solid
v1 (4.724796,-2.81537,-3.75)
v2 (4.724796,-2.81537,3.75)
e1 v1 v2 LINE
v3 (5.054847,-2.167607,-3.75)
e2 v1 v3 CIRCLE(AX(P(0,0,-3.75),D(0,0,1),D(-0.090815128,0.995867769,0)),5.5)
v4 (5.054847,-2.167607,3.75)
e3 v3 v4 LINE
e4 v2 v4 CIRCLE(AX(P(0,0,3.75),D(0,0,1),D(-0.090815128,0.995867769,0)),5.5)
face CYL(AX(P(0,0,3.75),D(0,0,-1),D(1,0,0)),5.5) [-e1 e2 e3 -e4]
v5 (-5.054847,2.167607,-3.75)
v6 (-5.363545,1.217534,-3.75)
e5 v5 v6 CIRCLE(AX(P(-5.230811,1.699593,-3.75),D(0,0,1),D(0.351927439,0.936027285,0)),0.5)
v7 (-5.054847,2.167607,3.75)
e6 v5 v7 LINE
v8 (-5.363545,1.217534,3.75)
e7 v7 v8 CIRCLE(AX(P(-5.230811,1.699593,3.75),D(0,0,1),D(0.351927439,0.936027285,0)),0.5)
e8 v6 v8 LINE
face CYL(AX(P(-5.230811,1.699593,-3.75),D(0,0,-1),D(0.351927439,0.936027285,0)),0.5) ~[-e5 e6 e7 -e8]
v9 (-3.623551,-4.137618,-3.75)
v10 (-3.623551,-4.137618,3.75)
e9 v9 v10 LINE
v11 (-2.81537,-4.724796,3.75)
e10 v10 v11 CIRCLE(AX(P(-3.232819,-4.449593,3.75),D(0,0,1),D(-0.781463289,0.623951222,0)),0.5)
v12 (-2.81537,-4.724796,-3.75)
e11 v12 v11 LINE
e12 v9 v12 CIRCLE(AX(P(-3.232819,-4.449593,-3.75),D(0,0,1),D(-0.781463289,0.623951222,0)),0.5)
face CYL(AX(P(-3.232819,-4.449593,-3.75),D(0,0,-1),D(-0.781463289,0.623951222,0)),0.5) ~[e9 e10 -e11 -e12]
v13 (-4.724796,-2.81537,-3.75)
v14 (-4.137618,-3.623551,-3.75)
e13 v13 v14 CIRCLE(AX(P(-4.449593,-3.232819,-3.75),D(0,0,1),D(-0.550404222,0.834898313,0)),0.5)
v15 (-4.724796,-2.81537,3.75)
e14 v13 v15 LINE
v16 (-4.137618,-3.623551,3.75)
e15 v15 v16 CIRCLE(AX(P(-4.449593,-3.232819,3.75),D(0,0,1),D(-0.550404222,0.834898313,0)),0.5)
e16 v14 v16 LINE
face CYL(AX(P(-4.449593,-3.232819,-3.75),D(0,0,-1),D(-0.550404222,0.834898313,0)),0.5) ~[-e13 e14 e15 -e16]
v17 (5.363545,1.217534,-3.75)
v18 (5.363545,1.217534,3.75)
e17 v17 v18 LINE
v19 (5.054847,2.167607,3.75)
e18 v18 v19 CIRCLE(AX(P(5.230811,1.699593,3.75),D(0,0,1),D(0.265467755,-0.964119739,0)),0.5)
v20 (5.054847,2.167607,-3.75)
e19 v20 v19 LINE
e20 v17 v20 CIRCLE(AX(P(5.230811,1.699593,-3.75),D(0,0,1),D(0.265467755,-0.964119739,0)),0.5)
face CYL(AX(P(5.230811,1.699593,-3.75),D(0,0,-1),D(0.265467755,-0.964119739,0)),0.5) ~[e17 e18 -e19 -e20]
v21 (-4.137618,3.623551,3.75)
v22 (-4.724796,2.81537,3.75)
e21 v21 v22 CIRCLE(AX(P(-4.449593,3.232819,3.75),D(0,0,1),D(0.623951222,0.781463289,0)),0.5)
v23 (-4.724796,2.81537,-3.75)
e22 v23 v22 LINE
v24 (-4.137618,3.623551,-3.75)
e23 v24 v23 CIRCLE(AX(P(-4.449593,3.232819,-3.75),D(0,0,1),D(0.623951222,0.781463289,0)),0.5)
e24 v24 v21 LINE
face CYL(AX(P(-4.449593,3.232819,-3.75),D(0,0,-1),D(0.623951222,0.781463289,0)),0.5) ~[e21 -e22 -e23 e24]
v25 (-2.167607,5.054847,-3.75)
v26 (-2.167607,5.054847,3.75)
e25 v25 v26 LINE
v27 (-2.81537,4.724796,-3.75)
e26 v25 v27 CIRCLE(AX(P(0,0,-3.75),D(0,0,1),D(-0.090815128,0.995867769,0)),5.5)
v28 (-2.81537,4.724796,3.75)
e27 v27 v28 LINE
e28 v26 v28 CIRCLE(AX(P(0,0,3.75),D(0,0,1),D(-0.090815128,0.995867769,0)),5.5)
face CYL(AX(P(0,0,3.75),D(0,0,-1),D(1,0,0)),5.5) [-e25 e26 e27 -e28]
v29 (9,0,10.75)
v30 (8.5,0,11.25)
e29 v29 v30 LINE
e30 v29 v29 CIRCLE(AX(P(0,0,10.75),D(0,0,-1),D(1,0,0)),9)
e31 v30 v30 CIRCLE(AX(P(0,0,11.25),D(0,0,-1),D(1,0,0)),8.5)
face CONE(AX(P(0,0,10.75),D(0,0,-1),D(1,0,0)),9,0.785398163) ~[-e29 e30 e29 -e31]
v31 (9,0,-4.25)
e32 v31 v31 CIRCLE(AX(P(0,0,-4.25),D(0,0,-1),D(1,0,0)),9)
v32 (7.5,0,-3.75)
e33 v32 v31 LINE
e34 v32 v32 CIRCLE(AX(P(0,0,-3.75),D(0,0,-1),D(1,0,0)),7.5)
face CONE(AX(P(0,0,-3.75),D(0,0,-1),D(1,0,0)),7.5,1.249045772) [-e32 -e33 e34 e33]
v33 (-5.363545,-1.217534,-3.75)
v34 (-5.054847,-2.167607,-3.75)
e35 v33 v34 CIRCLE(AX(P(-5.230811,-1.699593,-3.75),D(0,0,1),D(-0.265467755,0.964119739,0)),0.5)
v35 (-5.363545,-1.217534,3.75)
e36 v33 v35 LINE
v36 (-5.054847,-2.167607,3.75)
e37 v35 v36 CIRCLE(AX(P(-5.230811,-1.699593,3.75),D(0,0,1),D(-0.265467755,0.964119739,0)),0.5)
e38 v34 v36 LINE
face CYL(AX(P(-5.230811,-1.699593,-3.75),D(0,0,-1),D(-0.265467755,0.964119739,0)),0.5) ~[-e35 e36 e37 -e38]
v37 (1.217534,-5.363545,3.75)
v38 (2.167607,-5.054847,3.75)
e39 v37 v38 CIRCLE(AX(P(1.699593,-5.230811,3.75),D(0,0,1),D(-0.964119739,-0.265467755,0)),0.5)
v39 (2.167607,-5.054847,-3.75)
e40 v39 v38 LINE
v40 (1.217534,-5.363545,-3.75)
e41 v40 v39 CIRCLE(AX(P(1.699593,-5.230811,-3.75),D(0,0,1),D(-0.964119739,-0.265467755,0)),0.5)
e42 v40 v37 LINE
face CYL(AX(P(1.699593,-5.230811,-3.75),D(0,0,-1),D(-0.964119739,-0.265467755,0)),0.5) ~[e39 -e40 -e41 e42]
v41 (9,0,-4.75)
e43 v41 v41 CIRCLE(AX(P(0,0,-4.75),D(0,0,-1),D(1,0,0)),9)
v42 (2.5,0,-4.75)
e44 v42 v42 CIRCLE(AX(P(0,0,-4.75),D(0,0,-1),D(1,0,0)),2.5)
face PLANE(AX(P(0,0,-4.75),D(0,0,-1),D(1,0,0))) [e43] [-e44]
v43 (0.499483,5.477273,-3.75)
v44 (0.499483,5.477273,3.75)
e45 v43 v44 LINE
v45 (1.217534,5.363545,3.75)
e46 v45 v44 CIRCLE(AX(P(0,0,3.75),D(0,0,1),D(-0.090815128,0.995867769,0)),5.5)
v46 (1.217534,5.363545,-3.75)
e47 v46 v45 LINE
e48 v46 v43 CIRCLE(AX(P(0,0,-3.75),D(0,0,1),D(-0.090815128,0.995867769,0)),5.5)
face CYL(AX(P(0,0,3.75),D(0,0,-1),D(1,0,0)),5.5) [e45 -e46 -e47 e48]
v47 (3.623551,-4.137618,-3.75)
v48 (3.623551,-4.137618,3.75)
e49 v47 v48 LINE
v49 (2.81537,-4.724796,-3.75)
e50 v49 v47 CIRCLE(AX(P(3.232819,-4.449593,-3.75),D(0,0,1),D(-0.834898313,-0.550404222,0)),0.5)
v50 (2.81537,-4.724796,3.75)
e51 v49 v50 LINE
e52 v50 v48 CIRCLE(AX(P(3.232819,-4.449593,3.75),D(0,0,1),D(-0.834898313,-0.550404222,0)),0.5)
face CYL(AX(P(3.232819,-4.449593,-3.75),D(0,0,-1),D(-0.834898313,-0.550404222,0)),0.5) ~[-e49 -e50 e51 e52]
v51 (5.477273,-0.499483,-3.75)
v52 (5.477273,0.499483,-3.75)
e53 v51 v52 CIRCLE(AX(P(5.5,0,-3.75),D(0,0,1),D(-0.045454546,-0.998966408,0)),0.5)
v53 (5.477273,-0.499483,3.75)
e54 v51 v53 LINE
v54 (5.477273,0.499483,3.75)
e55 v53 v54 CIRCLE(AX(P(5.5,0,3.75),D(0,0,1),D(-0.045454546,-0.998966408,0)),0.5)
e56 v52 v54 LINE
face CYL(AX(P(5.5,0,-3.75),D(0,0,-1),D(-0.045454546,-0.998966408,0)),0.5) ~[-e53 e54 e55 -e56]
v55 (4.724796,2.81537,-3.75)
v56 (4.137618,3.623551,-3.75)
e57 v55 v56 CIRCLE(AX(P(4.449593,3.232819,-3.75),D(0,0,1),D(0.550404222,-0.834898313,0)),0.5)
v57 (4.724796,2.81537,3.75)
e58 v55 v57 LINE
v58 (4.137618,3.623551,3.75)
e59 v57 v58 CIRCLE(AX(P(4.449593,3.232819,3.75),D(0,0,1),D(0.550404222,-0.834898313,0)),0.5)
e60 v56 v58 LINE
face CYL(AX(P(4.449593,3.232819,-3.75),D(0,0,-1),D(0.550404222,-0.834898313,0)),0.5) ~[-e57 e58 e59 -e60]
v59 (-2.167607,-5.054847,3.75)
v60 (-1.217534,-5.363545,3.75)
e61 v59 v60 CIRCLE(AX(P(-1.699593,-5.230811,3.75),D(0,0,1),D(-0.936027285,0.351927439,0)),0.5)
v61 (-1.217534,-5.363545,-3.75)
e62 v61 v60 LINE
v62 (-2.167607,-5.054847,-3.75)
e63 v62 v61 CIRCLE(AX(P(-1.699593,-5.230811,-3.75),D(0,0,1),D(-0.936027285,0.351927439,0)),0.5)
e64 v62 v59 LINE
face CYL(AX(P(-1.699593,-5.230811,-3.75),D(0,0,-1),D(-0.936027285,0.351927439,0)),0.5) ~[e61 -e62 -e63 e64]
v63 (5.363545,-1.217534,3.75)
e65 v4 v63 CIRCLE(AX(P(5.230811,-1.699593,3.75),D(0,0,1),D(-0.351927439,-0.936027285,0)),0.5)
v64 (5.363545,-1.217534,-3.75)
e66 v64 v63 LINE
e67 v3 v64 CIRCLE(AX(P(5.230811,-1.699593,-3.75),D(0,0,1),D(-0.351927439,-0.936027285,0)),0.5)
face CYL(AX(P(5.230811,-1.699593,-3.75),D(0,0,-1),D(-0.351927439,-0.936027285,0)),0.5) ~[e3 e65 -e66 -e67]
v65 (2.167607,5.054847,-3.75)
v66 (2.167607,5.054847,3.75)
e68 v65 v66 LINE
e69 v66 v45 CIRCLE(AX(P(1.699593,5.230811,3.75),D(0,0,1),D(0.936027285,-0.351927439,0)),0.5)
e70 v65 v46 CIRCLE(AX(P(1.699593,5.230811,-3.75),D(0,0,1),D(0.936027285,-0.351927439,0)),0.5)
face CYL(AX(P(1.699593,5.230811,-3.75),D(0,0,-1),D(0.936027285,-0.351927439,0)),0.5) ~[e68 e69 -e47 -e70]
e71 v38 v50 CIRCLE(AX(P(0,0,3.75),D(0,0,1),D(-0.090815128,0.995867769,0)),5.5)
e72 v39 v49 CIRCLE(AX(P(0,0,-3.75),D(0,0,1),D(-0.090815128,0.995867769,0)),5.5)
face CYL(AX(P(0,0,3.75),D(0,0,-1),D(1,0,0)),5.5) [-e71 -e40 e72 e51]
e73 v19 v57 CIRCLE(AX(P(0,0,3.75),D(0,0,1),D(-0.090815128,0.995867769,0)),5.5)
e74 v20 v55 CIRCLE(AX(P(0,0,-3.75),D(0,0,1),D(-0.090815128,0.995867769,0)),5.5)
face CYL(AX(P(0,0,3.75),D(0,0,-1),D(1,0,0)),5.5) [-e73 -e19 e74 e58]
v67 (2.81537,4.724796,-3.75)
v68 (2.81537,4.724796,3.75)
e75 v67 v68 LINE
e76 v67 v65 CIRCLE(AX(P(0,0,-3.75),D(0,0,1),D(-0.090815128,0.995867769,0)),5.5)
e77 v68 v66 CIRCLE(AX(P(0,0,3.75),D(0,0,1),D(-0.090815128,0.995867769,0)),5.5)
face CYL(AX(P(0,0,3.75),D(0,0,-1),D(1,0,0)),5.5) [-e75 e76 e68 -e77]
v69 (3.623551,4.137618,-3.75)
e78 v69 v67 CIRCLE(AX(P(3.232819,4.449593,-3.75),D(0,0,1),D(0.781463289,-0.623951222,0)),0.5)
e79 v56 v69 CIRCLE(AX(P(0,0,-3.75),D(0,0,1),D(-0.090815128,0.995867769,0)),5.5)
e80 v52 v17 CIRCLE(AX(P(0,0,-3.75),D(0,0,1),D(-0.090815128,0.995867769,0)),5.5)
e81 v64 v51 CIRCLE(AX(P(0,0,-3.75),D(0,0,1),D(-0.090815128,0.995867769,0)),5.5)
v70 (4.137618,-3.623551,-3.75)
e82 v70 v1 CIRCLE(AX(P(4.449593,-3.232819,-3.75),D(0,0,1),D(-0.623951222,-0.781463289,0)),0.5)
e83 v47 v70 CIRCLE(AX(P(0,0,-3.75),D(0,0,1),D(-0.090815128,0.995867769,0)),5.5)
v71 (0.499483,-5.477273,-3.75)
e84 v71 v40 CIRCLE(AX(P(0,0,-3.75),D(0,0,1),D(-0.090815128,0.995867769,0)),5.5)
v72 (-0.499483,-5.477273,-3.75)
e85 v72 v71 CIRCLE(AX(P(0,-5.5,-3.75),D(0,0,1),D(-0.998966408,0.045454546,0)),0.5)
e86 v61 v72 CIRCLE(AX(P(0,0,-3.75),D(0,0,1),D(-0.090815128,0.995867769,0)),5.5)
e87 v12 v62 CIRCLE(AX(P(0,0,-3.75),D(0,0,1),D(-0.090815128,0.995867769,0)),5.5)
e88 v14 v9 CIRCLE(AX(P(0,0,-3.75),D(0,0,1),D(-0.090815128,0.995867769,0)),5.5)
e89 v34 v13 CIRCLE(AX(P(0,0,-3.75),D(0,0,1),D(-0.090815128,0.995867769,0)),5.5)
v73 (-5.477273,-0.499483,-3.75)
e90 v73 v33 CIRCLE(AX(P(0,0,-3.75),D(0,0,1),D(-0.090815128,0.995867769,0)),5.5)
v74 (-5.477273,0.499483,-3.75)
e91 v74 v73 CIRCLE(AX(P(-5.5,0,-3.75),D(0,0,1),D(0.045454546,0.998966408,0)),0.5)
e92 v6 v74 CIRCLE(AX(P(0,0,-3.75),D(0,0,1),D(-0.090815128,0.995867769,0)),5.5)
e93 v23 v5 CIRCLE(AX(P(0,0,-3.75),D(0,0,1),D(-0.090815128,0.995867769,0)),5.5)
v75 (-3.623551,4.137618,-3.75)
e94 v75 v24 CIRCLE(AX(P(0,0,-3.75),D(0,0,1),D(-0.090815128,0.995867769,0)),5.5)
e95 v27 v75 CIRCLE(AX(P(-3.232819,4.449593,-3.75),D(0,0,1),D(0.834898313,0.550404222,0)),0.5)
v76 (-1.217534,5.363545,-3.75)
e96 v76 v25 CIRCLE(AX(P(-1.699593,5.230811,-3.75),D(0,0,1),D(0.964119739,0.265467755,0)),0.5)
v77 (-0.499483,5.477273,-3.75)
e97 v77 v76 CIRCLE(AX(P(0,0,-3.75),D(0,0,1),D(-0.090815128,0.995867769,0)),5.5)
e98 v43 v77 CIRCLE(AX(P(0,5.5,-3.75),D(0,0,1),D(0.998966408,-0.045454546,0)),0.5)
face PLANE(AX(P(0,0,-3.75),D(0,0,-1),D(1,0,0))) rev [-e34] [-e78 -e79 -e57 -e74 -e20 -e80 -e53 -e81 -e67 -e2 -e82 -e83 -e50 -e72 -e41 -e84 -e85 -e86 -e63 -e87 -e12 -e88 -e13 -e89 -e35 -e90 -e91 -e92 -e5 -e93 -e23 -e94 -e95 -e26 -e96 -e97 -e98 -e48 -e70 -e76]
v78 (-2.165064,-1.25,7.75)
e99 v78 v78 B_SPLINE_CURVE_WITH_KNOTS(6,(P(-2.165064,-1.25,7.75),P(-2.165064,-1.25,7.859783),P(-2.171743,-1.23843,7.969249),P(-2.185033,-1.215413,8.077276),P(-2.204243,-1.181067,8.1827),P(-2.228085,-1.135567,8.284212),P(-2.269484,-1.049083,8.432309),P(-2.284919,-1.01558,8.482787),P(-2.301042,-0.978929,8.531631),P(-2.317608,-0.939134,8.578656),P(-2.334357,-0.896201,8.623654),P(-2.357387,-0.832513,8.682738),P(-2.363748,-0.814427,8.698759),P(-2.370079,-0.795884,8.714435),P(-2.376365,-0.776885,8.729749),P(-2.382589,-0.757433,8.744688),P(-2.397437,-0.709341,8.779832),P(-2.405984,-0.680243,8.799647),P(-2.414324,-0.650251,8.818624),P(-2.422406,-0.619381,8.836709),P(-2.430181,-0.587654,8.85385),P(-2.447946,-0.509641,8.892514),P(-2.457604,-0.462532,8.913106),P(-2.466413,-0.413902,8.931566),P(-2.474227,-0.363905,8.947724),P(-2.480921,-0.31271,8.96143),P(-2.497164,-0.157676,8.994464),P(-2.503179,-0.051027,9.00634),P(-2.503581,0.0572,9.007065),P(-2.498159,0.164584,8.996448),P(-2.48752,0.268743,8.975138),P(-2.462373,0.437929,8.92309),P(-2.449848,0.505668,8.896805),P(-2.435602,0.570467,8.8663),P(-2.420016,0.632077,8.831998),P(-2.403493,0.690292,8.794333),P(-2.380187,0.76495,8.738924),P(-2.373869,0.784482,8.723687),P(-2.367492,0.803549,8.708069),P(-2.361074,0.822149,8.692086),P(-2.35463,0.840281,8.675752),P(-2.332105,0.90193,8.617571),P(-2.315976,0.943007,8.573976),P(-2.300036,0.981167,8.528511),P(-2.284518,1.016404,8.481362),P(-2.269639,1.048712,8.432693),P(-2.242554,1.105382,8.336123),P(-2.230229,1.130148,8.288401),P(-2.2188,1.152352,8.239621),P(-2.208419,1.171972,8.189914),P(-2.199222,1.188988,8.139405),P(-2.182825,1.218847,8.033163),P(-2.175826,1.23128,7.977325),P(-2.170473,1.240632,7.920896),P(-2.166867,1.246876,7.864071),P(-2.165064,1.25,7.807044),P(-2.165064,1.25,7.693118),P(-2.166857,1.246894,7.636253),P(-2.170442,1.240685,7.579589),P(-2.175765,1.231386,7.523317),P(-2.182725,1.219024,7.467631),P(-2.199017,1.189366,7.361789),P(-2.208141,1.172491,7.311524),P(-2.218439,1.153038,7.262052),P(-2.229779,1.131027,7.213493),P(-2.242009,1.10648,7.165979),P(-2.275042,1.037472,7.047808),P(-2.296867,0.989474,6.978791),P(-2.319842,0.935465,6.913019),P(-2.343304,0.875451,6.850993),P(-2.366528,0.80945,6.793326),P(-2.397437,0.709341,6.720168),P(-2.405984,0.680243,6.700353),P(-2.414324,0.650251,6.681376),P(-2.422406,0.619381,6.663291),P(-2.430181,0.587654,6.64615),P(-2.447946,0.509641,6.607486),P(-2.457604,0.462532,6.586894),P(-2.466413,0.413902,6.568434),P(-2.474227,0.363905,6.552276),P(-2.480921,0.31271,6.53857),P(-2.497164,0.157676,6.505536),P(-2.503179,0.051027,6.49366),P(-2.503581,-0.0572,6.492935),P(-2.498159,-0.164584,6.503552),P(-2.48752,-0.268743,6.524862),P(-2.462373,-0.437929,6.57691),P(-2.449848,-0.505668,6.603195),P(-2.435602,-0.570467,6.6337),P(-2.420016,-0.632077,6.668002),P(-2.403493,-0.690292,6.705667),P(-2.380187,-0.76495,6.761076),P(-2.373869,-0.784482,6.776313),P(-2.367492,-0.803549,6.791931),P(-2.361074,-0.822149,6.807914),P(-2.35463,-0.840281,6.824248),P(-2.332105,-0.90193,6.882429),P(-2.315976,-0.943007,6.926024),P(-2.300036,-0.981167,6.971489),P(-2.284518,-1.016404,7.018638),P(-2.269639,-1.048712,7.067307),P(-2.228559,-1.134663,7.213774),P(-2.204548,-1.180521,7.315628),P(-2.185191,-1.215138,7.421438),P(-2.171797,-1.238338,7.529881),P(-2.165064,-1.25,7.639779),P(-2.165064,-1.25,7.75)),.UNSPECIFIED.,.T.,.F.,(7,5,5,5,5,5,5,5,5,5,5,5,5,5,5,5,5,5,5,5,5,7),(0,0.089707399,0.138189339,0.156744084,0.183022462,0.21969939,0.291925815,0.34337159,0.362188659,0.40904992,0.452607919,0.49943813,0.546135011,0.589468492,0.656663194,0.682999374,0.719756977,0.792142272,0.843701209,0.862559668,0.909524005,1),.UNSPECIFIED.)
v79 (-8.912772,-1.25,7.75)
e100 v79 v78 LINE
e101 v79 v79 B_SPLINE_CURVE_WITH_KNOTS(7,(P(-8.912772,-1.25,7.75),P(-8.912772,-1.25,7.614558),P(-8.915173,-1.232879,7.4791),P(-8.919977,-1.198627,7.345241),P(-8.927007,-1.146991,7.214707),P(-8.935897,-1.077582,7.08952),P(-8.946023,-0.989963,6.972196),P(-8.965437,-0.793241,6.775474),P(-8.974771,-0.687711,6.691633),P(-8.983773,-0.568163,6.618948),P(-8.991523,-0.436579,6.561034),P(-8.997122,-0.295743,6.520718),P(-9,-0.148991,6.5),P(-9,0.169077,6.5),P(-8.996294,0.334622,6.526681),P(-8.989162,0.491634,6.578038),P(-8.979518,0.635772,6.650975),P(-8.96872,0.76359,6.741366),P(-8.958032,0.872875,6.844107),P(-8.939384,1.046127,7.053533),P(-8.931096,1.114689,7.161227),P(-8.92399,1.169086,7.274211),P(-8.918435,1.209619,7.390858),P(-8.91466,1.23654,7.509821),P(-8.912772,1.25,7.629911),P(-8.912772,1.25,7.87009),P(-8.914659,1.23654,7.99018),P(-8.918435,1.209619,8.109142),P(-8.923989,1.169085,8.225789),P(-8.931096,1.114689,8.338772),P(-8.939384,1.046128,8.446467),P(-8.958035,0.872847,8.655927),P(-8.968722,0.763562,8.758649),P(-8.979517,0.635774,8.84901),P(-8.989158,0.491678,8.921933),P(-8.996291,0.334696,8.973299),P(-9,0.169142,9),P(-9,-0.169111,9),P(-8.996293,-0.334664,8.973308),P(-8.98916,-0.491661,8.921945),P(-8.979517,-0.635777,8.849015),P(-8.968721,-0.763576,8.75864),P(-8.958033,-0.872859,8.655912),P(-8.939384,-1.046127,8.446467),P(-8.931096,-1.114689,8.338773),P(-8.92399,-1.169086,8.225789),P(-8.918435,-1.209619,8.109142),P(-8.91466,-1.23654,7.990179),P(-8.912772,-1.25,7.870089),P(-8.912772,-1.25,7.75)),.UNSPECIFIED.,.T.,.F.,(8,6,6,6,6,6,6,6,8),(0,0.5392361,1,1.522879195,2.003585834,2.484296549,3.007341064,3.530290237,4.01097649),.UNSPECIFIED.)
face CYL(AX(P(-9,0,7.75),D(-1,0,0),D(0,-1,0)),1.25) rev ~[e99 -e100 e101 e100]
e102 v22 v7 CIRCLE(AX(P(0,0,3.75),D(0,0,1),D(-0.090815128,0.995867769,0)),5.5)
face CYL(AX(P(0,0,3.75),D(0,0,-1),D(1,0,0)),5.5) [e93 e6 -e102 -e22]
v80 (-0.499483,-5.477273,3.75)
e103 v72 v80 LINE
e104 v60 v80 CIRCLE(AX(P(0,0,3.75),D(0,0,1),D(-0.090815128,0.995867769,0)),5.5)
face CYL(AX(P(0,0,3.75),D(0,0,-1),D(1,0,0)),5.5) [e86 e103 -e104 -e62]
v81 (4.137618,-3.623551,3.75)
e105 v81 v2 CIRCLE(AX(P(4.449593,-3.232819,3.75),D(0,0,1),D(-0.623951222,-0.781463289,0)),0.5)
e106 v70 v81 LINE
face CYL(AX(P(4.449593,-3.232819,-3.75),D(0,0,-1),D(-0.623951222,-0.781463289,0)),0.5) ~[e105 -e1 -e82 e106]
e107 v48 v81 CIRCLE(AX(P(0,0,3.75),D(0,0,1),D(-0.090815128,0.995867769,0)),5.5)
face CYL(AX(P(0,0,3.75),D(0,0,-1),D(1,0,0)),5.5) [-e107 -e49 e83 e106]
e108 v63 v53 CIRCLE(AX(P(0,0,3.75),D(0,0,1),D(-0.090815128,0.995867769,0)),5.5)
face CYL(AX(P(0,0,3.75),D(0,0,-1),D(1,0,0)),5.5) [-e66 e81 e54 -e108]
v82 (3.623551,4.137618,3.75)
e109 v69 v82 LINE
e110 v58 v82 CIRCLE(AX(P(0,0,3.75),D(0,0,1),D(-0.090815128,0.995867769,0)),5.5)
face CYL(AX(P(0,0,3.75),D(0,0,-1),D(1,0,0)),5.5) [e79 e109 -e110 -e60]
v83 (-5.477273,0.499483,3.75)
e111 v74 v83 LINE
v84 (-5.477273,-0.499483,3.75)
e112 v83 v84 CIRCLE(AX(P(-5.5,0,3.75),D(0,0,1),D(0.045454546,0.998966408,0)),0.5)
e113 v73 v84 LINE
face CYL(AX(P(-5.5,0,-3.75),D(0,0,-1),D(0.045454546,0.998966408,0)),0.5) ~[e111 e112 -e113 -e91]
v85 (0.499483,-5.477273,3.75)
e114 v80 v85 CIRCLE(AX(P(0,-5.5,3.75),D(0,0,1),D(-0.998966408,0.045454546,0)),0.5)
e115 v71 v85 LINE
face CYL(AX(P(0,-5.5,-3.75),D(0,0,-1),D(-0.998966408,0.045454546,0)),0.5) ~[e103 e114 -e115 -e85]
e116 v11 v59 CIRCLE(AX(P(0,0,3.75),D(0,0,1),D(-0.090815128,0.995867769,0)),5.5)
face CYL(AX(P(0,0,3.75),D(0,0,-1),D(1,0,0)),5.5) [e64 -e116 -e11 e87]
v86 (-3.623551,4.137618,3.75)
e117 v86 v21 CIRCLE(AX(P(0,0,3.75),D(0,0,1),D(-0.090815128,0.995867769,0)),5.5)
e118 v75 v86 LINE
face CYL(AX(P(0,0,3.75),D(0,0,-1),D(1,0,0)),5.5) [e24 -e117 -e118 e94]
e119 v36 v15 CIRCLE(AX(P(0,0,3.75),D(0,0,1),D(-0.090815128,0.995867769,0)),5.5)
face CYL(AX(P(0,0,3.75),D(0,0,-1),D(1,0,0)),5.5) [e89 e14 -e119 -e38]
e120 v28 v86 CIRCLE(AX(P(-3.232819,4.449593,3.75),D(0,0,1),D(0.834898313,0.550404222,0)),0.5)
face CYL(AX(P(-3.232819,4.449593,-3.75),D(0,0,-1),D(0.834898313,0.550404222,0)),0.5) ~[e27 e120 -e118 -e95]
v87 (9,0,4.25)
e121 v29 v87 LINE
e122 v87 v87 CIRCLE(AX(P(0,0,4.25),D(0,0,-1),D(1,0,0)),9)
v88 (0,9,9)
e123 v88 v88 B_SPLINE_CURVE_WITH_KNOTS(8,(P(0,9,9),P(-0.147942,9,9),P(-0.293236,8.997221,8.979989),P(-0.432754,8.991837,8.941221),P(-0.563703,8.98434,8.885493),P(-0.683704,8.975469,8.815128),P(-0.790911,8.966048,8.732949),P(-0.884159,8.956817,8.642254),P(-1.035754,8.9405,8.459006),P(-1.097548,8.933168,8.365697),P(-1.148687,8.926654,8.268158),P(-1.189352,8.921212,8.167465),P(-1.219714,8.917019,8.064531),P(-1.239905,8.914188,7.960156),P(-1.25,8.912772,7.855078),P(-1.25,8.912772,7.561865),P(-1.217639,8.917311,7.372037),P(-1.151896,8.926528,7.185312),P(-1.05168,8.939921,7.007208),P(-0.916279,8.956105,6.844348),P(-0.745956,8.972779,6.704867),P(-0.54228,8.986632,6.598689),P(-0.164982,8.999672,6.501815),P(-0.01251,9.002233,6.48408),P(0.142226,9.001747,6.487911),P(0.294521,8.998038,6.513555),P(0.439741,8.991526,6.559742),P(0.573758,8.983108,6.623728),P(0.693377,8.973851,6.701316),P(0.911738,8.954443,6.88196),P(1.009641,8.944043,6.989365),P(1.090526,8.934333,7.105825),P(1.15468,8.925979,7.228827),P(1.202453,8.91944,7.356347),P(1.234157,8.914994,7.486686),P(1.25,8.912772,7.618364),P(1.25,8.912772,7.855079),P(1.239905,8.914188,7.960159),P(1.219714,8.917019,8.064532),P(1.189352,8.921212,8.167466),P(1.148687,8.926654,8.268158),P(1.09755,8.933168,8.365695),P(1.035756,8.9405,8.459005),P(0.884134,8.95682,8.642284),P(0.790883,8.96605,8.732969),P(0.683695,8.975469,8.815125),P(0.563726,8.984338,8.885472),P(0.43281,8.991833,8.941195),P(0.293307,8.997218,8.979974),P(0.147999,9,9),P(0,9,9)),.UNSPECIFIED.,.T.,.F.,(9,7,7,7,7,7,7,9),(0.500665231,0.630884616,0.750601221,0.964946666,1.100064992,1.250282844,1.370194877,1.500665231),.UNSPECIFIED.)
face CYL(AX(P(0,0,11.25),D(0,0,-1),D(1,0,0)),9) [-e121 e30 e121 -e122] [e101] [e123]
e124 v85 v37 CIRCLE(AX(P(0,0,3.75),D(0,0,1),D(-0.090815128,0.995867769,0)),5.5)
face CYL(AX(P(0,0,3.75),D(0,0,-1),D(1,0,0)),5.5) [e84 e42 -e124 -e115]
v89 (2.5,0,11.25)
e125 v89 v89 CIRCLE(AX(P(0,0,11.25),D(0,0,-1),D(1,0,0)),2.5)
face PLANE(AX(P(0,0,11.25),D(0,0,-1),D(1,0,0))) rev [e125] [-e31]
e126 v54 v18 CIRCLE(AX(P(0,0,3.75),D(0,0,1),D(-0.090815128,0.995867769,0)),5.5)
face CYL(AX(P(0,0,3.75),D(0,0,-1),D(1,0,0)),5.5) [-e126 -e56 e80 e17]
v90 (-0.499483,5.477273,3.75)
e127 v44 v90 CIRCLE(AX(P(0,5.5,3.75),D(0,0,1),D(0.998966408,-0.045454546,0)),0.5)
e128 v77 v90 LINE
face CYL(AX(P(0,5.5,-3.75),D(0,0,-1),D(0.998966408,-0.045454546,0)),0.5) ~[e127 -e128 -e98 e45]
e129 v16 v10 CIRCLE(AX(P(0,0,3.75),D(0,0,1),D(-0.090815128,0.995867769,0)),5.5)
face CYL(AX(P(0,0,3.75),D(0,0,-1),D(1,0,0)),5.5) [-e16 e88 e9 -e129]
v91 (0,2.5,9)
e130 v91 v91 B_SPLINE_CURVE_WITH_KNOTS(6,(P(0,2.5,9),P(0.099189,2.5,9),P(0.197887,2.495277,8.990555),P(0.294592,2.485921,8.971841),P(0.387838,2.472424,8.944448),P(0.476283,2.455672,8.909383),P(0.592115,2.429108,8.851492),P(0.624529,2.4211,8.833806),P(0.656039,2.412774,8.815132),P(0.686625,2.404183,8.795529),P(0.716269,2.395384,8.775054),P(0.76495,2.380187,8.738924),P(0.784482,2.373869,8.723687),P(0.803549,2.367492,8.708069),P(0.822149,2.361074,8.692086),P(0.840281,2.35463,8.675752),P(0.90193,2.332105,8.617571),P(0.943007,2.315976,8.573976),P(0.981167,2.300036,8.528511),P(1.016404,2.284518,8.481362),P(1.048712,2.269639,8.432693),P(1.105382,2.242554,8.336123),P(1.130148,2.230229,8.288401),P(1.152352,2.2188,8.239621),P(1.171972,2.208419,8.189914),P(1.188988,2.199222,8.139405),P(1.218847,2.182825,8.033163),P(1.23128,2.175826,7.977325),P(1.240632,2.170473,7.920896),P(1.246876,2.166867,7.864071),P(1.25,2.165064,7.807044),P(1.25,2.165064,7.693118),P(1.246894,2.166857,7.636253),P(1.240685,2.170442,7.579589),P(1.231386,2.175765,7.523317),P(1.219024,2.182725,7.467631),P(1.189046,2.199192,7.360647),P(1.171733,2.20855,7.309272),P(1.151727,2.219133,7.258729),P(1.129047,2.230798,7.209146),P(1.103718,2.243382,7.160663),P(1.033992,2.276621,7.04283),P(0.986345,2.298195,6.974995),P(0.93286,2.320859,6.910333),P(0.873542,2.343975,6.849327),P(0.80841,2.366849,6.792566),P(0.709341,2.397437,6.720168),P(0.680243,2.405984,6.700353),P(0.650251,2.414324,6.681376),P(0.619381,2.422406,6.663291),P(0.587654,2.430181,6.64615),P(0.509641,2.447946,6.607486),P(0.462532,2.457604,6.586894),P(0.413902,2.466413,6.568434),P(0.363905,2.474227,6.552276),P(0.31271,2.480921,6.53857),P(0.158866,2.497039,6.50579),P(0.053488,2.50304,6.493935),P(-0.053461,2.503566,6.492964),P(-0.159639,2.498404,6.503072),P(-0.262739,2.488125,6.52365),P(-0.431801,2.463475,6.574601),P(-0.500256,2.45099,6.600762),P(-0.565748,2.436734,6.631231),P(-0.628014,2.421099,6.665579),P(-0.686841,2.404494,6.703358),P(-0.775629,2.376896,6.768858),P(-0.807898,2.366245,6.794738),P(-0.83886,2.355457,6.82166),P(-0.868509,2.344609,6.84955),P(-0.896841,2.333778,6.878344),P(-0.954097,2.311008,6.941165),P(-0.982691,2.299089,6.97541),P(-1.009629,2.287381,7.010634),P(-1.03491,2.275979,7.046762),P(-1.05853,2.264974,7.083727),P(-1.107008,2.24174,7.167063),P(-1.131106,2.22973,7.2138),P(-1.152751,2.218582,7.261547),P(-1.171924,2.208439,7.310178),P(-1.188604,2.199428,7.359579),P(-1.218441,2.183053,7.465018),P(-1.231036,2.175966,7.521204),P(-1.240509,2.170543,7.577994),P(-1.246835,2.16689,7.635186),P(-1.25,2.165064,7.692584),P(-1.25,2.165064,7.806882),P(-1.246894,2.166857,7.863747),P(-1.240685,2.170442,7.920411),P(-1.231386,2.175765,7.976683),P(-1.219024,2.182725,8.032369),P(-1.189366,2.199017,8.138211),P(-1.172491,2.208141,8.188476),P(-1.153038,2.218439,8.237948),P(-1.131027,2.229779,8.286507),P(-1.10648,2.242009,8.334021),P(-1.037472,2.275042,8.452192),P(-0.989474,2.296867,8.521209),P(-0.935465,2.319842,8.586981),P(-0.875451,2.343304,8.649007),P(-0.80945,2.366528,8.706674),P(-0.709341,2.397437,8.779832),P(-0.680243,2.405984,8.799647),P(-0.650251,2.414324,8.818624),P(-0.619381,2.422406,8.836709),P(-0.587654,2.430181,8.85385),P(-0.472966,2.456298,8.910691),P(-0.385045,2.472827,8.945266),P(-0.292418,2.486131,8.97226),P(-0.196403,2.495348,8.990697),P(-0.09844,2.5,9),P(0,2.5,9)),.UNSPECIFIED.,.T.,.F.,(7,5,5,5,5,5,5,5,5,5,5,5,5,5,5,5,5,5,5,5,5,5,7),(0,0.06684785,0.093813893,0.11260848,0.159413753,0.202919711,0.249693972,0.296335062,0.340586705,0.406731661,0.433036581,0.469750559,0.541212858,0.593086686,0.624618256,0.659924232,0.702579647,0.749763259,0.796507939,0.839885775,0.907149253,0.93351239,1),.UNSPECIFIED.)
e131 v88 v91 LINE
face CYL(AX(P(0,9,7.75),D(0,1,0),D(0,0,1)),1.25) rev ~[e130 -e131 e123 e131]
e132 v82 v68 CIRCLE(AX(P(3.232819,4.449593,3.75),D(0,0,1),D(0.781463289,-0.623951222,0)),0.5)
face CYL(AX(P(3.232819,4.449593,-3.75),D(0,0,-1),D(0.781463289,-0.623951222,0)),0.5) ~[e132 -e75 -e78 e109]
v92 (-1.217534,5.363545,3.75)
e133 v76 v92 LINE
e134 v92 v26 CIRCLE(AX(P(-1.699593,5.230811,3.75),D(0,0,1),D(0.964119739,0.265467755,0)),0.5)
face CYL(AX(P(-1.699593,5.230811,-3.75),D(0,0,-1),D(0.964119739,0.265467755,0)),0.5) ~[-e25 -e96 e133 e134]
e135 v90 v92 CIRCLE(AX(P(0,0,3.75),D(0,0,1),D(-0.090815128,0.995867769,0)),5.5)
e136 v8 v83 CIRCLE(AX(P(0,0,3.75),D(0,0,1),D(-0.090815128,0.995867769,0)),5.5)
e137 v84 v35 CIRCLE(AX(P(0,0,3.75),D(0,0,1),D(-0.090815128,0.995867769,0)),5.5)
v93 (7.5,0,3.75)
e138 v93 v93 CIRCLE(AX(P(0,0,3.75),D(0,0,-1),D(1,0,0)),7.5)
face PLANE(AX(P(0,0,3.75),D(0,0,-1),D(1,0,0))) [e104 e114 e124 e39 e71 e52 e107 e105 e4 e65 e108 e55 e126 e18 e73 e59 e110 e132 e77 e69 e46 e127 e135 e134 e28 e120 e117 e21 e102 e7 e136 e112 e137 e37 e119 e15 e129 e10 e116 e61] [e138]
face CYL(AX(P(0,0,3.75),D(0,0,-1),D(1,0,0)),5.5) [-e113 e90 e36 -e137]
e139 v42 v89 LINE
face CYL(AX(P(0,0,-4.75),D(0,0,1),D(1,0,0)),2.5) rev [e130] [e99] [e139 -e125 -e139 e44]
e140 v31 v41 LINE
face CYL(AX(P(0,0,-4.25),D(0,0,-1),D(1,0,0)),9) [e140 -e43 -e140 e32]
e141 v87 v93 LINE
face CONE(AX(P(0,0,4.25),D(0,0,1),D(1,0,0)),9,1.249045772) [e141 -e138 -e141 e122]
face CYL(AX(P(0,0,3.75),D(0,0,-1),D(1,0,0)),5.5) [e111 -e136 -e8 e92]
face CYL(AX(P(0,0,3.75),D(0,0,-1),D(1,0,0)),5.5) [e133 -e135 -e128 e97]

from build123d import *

# Parameters (mm, degrees)
M3X0_5_TAPPED_HOLE1_REACH           = 25.691
M3X0_5_TAPPED_HOLE1_BORE_R          = 1.25
M3X0_5_TAPPED_HOLE1_ON_FACE_2_REACH = 25.691
M3X0_5_TAPPED_HOLE1_BORE_2_R        = 1.25
CHAMFER1_SIZE                       = 0.5
BOSS_EXTRUDE1_START                 = 7.5
BOSS_EXTRUDE1_DEPTH                 = 7.5
CIRPATTERN1_COUNT                   = 20


with BuildPart() as part:
    # Sketch1 → Revolve1 (revolve)
    with BuildSketch(Plane(origin=(0, 0, 0), x_dir=(0, 0, -1), z_dir=(1, 0, 0)), mode=Mode.PRIVATE) as revolve1_sk:
        Polygon((-3.75, 7.5), (-3.75, 5.5), (3.75, 5.5), (3.75, 7.5), (4.25, 9), (4.75, 9), (4.75, 2.5), (-11.25, 2.5), (-11.25, 9), (-4.25, 9), align=None)
    revolve(revolve1_sk.sketch.rotate(Axis((0, 0, 0), (0, 0, -1)), 90), axis=Axis((0, 0, 0), (0, 0, -1)))

    # M3x0.5 Tapped Hole1 bore (on position points) → M3x0.5 Tapped Hole1 (cut, up to next)
    with BuildSketch(Plane(origin=(-9, 0, 7.75), x_dir=(0, -1, 0), z_dir=(-1, 0, 0)), mode=Mode.PRIVATE) as m3x0_5_tapped_hole1_sk1:
        Circle(M3X0_5_TAPPED_HOLE1_BORE_R)
    m3x0_5_tapped_hole1_tool1 = extrude(m3x0_5_tapped_hole1_sk1.sketch, amount=-M3X0_5_TAPPED_HOLE1_REACH, mode=Mode.PRIVATE) & part.part
    add(m3x0_5_tapped_hole1_tool1.solids().sort_by_distance((-9, 0, 7.75))[0], mode=Mode.SUBTRACT)

    # M3x0.5 Tapped Hole1 bore 2 (on position points) → M3x0.5 Tapped Hole1 on face 2 (cut, up to next)
    with BuildSketch(Plane(origin=(0, 9, 7.75), x_dir=(0, 0, 1), z_dir=(0, 1, 0)), mode=Mode.PRIVATE) as m3x0_5_tapped_hole1_on_face_2_sk1:
        Circle(M3X0_5_TAPPED_HOLE1_BORE_2_R)
    m3x0_5_tapped_hole1_on_face_2_tool1 = extrude(m3x0_5_tapped_hole1_on_face_2_sk1.sketch, amount=-M3X0_5_TAPPED_HOLE1_ON_FACE_2_REACH, mode=Mode.PRIVATE) & part.part
    add(m3x0_5_tapped_hole1_on_face_2_tool1.solids().sort_by_distance((0, 9, 7.75))[0], mode=Mode.SUBTRACT)

    # Chamfer1
    chamfer1_edges = [part.edges().sort_by_distance(p)[0] for p in [
        (-9, 0, 11.25),
    ]]
    chamfer(chamfer1_edges, length=CHAMFER1_SIZE)

    # Sketch4 → Boss-Extrude1 (add)
    with BuildSketch(Plane(origin=(0, 0, 3.75), x_dir=(-1, 0, 0), z_dir=(0, 0, -1)).offset(BOSS_EXTRUDE1_START)):
        with BuildLine():
            ThreePointArc((-0.499483204, 5.477272727), (0, 6), (0.499483204, 5.477272727))
            ThreePointArc((0.499483204, 5.477272727), (0, 5.5), (-0.499483204, 5.477272727))
        make_face()
    boss_extrude1 = extrude(amount=-BOSS_EXTRUDE1_DEPTH)

    # CirPattern1: Boss-Extrude1 ×20 about axis
    cirpattern1_axis = Axis((0, 0, 0), (0, 0, 1))
    for i in range(1, CIRPATTERN1_COUNT):
        add(boss_extrude1.rotate(cirpattern1_axis, i * 360 / CIRPATTERN1_COUNT))


solid = part.part
